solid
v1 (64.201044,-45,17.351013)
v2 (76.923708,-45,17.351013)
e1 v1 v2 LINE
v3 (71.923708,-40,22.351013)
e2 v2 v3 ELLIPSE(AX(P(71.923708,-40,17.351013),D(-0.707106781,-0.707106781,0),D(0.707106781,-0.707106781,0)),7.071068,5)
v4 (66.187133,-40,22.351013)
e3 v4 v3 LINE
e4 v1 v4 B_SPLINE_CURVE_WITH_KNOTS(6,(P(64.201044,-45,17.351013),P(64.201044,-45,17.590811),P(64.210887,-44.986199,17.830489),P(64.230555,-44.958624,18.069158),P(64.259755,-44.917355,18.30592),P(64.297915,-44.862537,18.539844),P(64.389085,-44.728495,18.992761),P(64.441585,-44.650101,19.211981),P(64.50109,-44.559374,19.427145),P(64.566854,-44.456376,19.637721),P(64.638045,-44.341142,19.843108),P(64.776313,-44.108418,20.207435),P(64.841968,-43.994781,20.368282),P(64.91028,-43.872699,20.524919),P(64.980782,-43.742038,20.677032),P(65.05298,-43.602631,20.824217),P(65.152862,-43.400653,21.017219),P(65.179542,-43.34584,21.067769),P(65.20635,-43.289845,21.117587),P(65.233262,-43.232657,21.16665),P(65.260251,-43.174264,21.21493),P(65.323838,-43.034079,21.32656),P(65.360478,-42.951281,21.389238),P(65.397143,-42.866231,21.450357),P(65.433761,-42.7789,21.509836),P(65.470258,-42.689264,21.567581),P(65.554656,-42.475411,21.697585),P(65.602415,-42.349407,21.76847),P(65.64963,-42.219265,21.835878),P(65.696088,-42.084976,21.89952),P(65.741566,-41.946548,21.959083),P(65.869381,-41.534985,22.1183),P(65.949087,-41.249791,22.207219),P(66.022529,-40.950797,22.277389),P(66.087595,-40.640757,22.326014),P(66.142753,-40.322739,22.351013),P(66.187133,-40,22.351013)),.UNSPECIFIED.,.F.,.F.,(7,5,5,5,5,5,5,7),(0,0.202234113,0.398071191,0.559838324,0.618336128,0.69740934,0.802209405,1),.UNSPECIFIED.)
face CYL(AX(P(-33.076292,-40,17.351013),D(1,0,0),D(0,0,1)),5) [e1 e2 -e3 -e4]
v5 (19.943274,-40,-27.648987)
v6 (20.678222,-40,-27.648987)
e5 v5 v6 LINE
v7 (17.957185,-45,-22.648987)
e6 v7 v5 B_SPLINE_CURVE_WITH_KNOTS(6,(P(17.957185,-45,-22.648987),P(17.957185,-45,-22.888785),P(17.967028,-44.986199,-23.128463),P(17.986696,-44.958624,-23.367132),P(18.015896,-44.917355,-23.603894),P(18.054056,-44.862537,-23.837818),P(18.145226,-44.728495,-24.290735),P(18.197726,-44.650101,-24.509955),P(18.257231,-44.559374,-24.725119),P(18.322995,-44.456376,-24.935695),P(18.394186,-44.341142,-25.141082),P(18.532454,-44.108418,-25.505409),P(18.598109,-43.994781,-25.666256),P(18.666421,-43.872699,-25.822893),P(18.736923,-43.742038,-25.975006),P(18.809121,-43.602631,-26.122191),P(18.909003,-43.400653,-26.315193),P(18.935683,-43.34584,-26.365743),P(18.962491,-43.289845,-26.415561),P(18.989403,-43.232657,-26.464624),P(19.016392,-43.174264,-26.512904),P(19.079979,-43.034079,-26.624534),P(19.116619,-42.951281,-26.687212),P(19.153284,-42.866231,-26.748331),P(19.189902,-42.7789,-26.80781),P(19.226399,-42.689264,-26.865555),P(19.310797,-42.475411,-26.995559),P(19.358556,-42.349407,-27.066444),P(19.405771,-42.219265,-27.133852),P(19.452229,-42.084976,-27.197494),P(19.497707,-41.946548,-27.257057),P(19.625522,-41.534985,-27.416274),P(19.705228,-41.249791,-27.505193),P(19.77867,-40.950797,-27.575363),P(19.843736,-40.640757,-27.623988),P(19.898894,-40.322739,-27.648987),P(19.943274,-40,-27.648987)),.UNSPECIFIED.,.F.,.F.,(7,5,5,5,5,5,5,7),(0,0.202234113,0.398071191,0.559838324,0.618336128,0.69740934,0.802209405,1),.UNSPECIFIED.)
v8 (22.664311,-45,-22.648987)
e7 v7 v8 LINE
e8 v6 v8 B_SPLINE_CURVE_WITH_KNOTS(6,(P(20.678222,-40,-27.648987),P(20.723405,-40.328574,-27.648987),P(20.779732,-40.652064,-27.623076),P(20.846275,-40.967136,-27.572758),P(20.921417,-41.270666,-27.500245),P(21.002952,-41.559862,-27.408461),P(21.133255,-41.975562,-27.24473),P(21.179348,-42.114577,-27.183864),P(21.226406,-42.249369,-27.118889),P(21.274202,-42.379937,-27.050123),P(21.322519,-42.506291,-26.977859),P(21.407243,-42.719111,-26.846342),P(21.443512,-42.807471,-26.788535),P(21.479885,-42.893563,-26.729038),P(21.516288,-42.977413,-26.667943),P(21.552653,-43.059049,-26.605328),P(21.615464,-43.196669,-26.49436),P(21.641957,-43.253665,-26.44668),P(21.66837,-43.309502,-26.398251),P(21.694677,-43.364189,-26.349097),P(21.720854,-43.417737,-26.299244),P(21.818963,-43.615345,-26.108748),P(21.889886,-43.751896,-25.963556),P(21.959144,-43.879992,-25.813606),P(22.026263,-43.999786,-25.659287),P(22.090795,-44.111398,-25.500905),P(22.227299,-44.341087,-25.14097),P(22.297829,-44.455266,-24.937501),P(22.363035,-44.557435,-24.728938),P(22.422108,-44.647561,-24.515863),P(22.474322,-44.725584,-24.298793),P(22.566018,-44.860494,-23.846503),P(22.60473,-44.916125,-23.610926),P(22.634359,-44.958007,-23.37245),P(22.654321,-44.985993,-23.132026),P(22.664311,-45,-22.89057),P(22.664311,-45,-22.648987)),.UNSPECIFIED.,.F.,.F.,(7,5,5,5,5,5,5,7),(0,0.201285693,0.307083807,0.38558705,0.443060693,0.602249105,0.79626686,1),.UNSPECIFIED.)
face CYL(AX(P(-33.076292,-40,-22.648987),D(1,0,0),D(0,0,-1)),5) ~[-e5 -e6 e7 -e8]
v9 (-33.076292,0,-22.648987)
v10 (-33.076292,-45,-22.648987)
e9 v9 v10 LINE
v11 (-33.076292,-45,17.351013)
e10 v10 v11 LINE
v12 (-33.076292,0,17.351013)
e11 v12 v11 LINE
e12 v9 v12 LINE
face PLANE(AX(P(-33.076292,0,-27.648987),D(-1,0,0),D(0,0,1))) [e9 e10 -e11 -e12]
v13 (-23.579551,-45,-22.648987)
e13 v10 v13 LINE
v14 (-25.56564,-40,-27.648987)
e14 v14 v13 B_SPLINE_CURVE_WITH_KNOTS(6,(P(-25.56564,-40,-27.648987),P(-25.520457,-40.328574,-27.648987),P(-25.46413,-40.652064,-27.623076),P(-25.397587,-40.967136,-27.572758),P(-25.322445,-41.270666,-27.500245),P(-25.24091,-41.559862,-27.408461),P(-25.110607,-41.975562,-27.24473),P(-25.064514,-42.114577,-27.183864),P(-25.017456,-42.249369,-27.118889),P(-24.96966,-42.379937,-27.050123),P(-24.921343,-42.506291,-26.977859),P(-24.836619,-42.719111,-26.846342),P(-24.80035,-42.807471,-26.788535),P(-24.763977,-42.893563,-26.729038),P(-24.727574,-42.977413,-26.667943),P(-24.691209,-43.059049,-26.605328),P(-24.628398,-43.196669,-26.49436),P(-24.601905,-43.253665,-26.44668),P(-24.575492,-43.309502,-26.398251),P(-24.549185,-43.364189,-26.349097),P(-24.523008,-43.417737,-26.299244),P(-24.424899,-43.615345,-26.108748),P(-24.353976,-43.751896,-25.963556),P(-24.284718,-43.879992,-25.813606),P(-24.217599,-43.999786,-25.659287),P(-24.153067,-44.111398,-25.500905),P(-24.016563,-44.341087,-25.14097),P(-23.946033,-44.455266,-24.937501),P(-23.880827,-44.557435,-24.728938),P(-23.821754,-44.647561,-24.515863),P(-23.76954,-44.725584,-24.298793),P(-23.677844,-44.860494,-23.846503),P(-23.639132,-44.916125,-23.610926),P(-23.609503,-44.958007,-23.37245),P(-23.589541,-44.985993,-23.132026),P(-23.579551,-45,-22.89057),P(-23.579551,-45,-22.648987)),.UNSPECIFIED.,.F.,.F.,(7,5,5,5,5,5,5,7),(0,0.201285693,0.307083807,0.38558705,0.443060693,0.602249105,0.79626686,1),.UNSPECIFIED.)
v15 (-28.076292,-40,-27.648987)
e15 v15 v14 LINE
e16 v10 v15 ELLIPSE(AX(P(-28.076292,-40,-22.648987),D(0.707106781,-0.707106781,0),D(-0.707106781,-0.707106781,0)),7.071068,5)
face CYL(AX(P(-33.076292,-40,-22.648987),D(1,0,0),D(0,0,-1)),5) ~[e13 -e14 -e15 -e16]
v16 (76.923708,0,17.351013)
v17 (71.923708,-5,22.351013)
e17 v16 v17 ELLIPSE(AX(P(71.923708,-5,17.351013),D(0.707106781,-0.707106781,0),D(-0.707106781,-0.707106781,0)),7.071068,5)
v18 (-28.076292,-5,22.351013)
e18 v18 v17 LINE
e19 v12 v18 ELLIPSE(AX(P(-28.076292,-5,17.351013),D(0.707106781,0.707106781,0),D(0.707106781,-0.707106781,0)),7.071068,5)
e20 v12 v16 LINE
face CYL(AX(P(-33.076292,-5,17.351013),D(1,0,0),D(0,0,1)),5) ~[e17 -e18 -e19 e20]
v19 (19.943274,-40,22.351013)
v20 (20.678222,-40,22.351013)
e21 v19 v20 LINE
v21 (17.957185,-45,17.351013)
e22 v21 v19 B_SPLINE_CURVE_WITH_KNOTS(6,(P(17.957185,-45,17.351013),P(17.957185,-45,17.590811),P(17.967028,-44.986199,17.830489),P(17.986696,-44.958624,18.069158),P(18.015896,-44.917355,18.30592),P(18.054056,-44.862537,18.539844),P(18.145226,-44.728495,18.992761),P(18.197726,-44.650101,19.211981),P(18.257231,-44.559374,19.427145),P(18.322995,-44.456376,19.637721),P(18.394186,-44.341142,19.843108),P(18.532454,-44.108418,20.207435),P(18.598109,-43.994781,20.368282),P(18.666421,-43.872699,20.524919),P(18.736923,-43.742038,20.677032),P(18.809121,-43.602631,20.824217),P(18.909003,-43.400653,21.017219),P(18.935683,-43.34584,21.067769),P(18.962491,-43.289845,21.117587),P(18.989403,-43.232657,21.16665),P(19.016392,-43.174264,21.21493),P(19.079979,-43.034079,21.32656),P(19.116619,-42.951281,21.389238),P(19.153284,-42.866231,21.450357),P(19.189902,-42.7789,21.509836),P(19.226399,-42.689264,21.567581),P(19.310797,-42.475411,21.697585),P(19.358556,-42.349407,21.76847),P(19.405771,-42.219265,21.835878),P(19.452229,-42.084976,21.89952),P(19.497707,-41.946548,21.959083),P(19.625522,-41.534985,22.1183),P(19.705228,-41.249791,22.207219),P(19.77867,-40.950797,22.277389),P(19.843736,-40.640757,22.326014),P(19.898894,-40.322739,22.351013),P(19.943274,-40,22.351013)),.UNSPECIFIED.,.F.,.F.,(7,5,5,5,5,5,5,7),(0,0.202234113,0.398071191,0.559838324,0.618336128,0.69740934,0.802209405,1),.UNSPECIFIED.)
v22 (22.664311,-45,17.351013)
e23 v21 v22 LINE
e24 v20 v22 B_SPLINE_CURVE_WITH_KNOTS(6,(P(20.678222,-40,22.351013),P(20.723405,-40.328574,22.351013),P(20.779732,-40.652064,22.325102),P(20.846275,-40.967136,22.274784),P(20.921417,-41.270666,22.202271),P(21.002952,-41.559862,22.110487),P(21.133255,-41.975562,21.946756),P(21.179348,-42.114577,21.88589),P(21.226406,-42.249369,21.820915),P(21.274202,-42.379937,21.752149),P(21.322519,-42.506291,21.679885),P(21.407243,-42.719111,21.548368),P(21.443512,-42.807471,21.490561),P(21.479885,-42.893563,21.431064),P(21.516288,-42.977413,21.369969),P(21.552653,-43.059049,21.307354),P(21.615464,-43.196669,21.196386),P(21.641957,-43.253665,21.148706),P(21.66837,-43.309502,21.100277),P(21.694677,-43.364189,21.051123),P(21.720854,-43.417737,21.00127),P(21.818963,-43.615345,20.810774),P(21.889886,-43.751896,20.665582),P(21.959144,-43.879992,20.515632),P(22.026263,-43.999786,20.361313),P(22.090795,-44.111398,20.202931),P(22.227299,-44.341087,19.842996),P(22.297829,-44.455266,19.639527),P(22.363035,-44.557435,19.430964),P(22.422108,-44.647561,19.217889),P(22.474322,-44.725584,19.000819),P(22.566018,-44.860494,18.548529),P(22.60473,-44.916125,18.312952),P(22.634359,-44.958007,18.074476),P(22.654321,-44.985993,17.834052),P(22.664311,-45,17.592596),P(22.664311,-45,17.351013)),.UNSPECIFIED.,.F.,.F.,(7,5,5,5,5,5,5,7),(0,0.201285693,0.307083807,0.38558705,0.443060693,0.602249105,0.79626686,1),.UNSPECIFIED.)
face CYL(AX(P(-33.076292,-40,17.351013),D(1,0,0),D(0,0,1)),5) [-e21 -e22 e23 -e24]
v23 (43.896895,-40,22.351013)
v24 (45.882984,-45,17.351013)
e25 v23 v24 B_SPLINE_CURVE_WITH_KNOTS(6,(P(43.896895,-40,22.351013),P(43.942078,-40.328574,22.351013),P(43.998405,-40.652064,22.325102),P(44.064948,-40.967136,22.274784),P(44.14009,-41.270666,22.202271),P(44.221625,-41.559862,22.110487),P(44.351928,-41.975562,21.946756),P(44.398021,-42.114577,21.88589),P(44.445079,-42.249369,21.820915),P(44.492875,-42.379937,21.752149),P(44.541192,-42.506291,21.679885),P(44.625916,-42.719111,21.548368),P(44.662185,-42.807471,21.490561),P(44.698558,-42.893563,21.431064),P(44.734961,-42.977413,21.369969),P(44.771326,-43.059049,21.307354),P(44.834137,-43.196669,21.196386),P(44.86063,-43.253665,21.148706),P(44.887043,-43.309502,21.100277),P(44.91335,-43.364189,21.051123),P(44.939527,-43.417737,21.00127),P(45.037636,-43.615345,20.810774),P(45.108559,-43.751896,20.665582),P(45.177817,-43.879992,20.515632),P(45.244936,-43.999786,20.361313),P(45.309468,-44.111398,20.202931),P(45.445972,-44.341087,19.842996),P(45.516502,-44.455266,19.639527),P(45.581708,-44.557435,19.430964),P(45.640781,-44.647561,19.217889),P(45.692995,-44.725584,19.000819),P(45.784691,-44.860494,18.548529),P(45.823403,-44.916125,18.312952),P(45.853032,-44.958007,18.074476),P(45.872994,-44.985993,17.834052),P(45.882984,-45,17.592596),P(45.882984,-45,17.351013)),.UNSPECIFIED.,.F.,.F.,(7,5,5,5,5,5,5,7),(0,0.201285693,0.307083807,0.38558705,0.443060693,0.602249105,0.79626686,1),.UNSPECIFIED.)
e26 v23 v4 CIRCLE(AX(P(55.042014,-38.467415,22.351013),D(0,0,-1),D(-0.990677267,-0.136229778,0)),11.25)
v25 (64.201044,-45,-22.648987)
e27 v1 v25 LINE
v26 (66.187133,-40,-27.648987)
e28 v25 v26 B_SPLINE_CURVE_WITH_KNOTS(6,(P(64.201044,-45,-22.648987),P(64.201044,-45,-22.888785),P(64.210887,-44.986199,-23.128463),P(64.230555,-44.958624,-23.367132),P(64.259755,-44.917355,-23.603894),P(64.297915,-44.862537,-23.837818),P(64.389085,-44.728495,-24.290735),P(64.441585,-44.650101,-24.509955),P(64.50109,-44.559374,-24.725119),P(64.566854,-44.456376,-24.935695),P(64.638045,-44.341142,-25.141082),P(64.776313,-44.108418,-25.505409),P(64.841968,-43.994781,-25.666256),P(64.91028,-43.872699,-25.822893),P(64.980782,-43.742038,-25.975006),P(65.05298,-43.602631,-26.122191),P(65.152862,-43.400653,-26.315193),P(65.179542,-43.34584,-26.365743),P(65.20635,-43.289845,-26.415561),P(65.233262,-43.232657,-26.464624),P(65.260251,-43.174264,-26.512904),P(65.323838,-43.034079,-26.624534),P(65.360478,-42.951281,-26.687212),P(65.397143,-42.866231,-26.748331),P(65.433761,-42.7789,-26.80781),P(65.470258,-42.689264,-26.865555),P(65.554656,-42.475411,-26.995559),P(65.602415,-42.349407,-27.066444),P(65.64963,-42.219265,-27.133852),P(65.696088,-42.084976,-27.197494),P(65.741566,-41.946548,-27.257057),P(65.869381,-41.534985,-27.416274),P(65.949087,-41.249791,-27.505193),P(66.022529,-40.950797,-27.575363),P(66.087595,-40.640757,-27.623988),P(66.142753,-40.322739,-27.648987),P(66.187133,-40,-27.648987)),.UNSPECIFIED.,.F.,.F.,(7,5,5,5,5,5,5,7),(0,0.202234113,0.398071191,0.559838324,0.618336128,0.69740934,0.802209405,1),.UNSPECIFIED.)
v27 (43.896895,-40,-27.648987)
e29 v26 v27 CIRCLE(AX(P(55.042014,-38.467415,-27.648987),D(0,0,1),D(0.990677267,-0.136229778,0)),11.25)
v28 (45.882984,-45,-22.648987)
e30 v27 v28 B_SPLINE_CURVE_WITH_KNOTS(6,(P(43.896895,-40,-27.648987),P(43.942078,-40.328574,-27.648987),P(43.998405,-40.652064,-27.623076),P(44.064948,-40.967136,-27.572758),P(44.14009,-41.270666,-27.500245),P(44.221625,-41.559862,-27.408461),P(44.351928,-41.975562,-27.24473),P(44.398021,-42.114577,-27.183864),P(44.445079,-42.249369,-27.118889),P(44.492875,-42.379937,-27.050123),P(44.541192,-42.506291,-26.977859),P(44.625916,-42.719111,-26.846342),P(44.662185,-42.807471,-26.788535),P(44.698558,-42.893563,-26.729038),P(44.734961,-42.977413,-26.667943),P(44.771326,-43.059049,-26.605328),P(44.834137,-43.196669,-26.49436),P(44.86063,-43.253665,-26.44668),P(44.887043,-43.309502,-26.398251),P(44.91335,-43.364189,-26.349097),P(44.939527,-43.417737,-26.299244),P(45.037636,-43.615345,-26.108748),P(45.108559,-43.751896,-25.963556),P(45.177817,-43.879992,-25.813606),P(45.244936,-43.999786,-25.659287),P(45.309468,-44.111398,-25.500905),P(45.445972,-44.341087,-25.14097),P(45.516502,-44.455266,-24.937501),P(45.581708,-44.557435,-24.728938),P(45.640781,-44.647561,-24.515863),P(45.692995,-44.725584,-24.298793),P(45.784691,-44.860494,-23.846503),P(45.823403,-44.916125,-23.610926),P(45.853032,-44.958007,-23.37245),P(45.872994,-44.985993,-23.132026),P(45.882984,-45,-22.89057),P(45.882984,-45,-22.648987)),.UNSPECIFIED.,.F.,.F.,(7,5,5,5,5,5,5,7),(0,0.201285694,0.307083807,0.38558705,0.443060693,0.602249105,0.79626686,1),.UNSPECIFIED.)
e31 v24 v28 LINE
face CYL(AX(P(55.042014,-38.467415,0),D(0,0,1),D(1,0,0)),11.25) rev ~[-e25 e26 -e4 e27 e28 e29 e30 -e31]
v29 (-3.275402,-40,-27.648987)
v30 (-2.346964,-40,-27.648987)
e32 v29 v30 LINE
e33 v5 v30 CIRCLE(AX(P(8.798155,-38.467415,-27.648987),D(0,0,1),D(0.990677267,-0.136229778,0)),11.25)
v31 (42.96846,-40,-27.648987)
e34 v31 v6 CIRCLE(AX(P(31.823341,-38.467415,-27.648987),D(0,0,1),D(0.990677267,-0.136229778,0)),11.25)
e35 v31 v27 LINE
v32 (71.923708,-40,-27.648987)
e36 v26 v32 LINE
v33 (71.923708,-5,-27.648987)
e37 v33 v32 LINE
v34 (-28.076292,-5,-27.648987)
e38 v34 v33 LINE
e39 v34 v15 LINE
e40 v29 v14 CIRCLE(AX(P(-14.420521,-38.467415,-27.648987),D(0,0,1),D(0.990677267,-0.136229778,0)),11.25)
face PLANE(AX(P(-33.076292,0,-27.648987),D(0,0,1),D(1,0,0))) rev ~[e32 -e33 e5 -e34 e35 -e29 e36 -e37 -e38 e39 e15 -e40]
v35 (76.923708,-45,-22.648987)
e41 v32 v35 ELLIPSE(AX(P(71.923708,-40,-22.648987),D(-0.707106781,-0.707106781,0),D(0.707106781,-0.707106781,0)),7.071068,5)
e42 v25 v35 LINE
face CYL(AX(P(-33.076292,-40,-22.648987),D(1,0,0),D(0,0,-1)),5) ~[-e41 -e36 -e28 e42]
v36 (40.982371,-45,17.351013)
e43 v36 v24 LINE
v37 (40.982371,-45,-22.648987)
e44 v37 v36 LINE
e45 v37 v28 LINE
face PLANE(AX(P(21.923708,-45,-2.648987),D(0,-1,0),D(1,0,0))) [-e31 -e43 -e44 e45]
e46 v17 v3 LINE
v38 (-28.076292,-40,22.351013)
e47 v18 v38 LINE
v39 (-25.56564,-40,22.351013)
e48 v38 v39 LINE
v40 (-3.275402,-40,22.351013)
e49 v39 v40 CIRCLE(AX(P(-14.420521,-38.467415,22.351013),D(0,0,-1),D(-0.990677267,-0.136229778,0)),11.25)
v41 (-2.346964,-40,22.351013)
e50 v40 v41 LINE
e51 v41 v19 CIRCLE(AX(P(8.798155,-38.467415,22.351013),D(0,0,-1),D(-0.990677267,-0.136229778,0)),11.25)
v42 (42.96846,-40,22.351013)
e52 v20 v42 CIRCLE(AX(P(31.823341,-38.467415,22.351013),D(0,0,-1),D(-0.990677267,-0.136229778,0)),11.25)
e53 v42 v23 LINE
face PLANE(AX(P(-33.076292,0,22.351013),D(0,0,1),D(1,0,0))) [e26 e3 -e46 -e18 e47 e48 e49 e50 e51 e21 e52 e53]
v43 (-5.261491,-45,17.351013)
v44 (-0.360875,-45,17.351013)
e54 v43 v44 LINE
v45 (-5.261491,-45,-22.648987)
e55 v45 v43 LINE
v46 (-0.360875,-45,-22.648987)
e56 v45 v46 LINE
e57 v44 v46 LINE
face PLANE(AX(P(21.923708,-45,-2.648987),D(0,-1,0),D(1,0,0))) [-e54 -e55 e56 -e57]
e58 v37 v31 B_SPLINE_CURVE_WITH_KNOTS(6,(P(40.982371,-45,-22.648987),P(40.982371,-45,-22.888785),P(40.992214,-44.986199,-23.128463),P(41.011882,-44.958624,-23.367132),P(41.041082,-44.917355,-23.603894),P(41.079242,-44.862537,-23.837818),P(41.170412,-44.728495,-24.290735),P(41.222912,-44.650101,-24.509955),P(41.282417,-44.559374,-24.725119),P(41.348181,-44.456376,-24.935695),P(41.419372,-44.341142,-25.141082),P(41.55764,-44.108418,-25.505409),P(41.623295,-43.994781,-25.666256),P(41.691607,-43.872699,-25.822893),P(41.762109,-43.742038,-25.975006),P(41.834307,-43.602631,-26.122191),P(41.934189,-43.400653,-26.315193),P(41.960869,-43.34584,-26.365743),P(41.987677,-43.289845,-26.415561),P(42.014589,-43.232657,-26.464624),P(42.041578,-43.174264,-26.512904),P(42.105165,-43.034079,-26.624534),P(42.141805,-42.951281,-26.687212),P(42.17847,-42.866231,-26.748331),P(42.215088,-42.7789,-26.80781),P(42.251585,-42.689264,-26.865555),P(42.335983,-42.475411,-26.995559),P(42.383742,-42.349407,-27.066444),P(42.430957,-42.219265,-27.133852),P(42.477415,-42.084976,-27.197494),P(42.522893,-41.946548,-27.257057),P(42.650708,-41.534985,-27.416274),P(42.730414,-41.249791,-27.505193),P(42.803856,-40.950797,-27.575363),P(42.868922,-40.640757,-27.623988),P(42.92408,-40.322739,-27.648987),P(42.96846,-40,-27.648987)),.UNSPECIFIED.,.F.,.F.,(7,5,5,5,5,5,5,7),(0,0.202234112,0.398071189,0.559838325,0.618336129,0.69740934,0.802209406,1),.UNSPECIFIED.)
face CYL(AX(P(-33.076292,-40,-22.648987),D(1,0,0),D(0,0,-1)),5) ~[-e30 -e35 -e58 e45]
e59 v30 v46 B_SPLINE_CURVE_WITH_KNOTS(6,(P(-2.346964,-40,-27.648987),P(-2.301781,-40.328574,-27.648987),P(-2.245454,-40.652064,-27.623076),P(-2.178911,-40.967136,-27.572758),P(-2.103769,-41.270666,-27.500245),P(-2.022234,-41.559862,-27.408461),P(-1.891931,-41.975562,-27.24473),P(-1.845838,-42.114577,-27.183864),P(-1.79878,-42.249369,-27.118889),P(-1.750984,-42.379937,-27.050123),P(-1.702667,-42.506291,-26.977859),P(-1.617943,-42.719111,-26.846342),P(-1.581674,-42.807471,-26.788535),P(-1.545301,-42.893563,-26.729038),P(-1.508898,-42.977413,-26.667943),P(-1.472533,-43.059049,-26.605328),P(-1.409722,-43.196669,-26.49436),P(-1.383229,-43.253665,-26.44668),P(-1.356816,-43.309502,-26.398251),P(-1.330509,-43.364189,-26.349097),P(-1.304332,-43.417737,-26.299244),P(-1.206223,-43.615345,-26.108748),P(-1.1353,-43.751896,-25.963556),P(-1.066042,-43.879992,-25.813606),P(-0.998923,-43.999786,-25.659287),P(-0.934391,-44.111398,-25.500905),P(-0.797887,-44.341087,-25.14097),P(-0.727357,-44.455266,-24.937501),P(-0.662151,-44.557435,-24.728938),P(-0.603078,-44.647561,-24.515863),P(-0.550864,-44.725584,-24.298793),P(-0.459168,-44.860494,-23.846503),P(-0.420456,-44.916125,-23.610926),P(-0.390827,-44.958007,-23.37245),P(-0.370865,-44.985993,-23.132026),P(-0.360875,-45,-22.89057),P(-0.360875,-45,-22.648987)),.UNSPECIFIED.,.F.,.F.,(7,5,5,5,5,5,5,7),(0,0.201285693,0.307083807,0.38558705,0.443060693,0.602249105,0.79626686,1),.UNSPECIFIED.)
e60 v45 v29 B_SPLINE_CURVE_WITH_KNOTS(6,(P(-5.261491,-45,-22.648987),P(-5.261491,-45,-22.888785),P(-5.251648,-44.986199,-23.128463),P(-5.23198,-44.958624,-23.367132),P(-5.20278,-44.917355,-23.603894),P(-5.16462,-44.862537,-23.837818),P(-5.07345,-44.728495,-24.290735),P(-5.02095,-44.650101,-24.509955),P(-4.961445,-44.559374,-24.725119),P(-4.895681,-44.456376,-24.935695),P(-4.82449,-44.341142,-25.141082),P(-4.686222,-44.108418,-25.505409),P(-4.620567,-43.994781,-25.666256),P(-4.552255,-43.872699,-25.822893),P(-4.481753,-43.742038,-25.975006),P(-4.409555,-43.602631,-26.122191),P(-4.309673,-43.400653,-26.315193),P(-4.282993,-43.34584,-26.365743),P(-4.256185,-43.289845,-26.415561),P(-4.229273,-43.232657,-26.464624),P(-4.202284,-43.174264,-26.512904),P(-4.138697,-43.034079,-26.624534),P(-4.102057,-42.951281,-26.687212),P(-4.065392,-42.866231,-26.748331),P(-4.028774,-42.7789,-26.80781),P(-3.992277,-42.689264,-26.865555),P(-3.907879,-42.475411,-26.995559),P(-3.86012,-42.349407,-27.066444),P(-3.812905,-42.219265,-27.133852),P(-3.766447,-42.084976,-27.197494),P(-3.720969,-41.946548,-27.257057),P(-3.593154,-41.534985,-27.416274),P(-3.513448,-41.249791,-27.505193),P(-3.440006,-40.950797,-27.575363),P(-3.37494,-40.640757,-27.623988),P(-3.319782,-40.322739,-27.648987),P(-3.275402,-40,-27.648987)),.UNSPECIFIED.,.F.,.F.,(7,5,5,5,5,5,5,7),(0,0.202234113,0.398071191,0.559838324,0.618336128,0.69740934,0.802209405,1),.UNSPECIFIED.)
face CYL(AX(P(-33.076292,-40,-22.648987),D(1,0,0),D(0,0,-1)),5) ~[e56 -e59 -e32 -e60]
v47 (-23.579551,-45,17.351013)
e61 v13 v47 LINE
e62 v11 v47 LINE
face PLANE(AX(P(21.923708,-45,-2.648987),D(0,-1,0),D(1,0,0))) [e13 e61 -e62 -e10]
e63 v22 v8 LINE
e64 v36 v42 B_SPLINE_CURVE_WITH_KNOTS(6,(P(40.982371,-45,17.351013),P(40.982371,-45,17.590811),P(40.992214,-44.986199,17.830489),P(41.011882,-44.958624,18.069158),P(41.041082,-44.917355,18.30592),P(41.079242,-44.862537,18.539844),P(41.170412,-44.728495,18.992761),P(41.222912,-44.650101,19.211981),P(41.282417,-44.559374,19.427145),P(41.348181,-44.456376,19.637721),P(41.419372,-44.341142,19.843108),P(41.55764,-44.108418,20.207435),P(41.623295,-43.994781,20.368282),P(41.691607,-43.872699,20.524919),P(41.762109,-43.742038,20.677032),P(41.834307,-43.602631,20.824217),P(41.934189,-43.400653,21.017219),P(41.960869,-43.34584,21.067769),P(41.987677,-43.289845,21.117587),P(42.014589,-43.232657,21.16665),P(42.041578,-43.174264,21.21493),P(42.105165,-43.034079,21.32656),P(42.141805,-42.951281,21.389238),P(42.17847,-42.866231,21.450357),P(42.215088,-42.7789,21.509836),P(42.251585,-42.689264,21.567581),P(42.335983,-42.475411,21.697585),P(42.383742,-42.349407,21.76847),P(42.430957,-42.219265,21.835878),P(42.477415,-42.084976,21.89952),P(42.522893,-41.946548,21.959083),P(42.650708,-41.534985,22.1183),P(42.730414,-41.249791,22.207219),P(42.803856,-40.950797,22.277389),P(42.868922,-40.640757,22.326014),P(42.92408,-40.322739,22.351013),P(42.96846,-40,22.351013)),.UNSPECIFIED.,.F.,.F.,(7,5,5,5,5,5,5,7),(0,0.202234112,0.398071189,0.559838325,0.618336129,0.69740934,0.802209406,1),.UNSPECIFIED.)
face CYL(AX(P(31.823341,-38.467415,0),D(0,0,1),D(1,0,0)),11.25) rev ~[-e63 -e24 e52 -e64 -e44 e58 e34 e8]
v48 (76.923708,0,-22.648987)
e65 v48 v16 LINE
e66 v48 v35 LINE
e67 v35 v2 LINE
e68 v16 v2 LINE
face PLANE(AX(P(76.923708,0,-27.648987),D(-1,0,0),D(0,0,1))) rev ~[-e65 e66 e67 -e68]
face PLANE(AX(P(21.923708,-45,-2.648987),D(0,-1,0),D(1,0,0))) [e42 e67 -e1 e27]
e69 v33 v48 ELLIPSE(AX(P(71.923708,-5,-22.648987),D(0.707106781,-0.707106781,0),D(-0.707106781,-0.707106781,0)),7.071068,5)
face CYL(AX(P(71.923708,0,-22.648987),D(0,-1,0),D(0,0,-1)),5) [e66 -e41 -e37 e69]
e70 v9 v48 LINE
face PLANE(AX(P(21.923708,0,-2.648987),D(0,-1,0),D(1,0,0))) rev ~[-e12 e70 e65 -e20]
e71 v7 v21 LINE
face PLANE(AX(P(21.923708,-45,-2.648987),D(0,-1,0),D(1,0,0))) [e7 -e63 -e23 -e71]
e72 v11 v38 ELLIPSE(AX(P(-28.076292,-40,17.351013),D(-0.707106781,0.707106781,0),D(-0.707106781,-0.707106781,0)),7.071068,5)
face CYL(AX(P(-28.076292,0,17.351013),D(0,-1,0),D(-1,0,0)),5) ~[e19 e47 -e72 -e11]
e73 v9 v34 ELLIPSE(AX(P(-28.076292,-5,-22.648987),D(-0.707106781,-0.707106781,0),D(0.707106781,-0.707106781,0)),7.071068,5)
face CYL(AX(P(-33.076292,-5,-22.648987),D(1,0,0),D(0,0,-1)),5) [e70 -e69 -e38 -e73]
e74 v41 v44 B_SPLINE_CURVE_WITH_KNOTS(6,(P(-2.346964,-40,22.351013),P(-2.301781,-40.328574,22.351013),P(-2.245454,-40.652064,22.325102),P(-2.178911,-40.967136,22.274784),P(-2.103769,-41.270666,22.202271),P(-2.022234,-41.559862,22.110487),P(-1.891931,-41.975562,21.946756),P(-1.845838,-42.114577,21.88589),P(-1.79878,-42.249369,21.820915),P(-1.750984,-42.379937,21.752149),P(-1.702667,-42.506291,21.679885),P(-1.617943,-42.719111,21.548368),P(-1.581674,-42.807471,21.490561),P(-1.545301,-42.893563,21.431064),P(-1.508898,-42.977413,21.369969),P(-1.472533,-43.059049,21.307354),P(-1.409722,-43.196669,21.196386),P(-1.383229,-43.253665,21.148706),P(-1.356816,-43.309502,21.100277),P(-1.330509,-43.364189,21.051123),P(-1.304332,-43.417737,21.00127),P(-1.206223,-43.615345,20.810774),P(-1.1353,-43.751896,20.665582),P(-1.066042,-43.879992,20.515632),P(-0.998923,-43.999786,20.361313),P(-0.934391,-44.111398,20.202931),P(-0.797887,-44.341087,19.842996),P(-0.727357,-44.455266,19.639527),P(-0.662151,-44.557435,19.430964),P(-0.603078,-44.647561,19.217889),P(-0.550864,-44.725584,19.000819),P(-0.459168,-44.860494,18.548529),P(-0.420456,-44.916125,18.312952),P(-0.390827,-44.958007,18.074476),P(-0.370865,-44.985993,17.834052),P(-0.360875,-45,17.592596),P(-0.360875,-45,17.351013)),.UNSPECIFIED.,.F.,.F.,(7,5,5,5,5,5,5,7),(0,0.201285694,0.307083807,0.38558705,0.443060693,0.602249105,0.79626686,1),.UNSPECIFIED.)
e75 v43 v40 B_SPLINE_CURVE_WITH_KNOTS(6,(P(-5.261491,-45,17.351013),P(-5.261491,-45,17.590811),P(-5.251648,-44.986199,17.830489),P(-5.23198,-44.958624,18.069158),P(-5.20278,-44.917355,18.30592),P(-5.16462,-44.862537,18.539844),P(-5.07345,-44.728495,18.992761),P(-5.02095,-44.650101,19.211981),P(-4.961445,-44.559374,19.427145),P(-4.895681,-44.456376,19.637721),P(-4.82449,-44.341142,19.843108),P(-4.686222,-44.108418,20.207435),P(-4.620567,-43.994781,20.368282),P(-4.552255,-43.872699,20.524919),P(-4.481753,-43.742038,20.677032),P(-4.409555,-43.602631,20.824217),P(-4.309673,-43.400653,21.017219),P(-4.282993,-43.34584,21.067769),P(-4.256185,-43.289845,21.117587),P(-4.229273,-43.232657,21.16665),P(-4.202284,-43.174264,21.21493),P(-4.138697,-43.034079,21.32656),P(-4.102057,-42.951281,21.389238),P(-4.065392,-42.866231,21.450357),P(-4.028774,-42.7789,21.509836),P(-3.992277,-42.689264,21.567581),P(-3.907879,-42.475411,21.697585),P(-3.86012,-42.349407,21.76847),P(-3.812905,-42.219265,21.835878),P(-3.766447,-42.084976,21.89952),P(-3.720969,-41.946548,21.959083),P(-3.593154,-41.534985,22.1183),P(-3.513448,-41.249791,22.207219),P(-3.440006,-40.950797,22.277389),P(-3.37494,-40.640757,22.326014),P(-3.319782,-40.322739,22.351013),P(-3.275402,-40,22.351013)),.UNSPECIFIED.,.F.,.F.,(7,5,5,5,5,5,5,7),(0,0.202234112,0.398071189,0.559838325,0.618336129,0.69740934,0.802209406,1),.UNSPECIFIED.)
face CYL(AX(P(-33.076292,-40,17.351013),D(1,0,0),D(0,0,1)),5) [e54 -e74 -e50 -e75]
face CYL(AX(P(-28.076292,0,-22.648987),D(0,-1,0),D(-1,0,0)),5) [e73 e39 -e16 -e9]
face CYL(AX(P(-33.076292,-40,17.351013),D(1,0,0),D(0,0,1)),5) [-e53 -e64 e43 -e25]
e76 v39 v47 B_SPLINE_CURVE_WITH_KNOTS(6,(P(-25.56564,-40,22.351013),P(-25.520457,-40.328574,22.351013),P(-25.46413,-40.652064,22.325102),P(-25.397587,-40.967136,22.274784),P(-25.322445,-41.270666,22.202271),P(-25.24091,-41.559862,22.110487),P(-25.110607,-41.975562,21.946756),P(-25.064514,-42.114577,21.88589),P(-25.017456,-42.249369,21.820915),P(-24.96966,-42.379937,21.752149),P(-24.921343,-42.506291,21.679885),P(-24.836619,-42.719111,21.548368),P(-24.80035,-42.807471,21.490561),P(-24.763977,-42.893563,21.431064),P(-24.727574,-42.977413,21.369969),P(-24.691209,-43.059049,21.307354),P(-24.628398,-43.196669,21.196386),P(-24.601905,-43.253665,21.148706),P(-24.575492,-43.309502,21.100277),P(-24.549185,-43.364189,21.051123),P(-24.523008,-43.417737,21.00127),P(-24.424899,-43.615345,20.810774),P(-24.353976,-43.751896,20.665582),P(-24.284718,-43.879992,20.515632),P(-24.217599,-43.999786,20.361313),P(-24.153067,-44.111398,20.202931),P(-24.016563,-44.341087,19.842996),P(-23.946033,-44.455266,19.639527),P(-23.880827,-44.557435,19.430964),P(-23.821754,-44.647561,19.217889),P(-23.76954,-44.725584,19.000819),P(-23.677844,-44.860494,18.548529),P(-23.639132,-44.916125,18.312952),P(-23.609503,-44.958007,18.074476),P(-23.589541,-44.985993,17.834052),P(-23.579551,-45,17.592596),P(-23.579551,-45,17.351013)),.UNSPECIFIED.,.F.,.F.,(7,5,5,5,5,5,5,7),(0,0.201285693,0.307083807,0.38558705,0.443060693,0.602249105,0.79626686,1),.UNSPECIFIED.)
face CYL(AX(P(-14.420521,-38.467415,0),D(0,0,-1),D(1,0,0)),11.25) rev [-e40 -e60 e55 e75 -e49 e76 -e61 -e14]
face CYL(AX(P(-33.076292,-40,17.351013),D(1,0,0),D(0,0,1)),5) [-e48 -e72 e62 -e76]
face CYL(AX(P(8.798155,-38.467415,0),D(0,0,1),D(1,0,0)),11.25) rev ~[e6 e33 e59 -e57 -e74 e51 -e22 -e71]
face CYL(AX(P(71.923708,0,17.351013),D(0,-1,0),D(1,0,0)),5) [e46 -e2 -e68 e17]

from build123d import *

# Parameters (mm, degrees)
F0_W     = 110
F0_H     = 50
F1_DEPTH = 45
F2_R     = 5
F3_R     = 11.25
F4_DEPTH = 50
F5_DEPTH = 25


with BuildPart() as f1:
    # F0 (on Front) → F1 (new body)
    with BuildSketch(Plane.XZ):
        with Locations((21.923708, -2.648987)):
            Rectangle(F0_W, F0_H)
    extrude(amount=F1_DEPTH)

    # F2
    f2_edges = [f1.edges().sort_by_distance(p)[0] for p in [
        (76.923708, -22.5, 22.351013),
        (-33.076292, -22.5, 22.351013),
        (21.923708, 0, 22.351013),
        (21.923708, -45, 22.351013),
        (-33.076292, -22.5, -27.648987),
        (76.923708, -22.5, -27.648987),
        (21.923708, 0, -27.648987),
        (21.923708, -45, -27.648987),
    ]]
    fillet(f2_edges, radius=F2_R)

    # F3 (on Top) → F4 (cut)
    with BuildSketch(Plane.XY):
        with Locations((-14.420521, -38.467415)):
            Circle(F3_R)
        with Locations((8.798155, -38.467415)):
            Circle(F3_R)
        with Locations((31.823341, -38.467415)):
            Circle(F3_R)
        with Locations((55.042014, -38.467415)):
            Circle(F3_R)
    extrude(amount=-F4_DEPTH, mode=Mode.SUBTRACT)

    # F3 (on Top) → F5 (cut)
    with BuildSketch(Plane.XY):
        with Locations((-14.420521, -38.467415)):
            Circle(F3_R)
        with Locations((8.798155, -38.467415)):
            Circle(F3_R)
        with Locations((31.823341, -38.467415)):
            Circle(F3_R)
        with Locations((55.042014, -38.467415)):
            Circle(F3_R)
    extrude(amount=F5_DEPTH, mode=Mode.SUBTRACT)


solid = f1.part
